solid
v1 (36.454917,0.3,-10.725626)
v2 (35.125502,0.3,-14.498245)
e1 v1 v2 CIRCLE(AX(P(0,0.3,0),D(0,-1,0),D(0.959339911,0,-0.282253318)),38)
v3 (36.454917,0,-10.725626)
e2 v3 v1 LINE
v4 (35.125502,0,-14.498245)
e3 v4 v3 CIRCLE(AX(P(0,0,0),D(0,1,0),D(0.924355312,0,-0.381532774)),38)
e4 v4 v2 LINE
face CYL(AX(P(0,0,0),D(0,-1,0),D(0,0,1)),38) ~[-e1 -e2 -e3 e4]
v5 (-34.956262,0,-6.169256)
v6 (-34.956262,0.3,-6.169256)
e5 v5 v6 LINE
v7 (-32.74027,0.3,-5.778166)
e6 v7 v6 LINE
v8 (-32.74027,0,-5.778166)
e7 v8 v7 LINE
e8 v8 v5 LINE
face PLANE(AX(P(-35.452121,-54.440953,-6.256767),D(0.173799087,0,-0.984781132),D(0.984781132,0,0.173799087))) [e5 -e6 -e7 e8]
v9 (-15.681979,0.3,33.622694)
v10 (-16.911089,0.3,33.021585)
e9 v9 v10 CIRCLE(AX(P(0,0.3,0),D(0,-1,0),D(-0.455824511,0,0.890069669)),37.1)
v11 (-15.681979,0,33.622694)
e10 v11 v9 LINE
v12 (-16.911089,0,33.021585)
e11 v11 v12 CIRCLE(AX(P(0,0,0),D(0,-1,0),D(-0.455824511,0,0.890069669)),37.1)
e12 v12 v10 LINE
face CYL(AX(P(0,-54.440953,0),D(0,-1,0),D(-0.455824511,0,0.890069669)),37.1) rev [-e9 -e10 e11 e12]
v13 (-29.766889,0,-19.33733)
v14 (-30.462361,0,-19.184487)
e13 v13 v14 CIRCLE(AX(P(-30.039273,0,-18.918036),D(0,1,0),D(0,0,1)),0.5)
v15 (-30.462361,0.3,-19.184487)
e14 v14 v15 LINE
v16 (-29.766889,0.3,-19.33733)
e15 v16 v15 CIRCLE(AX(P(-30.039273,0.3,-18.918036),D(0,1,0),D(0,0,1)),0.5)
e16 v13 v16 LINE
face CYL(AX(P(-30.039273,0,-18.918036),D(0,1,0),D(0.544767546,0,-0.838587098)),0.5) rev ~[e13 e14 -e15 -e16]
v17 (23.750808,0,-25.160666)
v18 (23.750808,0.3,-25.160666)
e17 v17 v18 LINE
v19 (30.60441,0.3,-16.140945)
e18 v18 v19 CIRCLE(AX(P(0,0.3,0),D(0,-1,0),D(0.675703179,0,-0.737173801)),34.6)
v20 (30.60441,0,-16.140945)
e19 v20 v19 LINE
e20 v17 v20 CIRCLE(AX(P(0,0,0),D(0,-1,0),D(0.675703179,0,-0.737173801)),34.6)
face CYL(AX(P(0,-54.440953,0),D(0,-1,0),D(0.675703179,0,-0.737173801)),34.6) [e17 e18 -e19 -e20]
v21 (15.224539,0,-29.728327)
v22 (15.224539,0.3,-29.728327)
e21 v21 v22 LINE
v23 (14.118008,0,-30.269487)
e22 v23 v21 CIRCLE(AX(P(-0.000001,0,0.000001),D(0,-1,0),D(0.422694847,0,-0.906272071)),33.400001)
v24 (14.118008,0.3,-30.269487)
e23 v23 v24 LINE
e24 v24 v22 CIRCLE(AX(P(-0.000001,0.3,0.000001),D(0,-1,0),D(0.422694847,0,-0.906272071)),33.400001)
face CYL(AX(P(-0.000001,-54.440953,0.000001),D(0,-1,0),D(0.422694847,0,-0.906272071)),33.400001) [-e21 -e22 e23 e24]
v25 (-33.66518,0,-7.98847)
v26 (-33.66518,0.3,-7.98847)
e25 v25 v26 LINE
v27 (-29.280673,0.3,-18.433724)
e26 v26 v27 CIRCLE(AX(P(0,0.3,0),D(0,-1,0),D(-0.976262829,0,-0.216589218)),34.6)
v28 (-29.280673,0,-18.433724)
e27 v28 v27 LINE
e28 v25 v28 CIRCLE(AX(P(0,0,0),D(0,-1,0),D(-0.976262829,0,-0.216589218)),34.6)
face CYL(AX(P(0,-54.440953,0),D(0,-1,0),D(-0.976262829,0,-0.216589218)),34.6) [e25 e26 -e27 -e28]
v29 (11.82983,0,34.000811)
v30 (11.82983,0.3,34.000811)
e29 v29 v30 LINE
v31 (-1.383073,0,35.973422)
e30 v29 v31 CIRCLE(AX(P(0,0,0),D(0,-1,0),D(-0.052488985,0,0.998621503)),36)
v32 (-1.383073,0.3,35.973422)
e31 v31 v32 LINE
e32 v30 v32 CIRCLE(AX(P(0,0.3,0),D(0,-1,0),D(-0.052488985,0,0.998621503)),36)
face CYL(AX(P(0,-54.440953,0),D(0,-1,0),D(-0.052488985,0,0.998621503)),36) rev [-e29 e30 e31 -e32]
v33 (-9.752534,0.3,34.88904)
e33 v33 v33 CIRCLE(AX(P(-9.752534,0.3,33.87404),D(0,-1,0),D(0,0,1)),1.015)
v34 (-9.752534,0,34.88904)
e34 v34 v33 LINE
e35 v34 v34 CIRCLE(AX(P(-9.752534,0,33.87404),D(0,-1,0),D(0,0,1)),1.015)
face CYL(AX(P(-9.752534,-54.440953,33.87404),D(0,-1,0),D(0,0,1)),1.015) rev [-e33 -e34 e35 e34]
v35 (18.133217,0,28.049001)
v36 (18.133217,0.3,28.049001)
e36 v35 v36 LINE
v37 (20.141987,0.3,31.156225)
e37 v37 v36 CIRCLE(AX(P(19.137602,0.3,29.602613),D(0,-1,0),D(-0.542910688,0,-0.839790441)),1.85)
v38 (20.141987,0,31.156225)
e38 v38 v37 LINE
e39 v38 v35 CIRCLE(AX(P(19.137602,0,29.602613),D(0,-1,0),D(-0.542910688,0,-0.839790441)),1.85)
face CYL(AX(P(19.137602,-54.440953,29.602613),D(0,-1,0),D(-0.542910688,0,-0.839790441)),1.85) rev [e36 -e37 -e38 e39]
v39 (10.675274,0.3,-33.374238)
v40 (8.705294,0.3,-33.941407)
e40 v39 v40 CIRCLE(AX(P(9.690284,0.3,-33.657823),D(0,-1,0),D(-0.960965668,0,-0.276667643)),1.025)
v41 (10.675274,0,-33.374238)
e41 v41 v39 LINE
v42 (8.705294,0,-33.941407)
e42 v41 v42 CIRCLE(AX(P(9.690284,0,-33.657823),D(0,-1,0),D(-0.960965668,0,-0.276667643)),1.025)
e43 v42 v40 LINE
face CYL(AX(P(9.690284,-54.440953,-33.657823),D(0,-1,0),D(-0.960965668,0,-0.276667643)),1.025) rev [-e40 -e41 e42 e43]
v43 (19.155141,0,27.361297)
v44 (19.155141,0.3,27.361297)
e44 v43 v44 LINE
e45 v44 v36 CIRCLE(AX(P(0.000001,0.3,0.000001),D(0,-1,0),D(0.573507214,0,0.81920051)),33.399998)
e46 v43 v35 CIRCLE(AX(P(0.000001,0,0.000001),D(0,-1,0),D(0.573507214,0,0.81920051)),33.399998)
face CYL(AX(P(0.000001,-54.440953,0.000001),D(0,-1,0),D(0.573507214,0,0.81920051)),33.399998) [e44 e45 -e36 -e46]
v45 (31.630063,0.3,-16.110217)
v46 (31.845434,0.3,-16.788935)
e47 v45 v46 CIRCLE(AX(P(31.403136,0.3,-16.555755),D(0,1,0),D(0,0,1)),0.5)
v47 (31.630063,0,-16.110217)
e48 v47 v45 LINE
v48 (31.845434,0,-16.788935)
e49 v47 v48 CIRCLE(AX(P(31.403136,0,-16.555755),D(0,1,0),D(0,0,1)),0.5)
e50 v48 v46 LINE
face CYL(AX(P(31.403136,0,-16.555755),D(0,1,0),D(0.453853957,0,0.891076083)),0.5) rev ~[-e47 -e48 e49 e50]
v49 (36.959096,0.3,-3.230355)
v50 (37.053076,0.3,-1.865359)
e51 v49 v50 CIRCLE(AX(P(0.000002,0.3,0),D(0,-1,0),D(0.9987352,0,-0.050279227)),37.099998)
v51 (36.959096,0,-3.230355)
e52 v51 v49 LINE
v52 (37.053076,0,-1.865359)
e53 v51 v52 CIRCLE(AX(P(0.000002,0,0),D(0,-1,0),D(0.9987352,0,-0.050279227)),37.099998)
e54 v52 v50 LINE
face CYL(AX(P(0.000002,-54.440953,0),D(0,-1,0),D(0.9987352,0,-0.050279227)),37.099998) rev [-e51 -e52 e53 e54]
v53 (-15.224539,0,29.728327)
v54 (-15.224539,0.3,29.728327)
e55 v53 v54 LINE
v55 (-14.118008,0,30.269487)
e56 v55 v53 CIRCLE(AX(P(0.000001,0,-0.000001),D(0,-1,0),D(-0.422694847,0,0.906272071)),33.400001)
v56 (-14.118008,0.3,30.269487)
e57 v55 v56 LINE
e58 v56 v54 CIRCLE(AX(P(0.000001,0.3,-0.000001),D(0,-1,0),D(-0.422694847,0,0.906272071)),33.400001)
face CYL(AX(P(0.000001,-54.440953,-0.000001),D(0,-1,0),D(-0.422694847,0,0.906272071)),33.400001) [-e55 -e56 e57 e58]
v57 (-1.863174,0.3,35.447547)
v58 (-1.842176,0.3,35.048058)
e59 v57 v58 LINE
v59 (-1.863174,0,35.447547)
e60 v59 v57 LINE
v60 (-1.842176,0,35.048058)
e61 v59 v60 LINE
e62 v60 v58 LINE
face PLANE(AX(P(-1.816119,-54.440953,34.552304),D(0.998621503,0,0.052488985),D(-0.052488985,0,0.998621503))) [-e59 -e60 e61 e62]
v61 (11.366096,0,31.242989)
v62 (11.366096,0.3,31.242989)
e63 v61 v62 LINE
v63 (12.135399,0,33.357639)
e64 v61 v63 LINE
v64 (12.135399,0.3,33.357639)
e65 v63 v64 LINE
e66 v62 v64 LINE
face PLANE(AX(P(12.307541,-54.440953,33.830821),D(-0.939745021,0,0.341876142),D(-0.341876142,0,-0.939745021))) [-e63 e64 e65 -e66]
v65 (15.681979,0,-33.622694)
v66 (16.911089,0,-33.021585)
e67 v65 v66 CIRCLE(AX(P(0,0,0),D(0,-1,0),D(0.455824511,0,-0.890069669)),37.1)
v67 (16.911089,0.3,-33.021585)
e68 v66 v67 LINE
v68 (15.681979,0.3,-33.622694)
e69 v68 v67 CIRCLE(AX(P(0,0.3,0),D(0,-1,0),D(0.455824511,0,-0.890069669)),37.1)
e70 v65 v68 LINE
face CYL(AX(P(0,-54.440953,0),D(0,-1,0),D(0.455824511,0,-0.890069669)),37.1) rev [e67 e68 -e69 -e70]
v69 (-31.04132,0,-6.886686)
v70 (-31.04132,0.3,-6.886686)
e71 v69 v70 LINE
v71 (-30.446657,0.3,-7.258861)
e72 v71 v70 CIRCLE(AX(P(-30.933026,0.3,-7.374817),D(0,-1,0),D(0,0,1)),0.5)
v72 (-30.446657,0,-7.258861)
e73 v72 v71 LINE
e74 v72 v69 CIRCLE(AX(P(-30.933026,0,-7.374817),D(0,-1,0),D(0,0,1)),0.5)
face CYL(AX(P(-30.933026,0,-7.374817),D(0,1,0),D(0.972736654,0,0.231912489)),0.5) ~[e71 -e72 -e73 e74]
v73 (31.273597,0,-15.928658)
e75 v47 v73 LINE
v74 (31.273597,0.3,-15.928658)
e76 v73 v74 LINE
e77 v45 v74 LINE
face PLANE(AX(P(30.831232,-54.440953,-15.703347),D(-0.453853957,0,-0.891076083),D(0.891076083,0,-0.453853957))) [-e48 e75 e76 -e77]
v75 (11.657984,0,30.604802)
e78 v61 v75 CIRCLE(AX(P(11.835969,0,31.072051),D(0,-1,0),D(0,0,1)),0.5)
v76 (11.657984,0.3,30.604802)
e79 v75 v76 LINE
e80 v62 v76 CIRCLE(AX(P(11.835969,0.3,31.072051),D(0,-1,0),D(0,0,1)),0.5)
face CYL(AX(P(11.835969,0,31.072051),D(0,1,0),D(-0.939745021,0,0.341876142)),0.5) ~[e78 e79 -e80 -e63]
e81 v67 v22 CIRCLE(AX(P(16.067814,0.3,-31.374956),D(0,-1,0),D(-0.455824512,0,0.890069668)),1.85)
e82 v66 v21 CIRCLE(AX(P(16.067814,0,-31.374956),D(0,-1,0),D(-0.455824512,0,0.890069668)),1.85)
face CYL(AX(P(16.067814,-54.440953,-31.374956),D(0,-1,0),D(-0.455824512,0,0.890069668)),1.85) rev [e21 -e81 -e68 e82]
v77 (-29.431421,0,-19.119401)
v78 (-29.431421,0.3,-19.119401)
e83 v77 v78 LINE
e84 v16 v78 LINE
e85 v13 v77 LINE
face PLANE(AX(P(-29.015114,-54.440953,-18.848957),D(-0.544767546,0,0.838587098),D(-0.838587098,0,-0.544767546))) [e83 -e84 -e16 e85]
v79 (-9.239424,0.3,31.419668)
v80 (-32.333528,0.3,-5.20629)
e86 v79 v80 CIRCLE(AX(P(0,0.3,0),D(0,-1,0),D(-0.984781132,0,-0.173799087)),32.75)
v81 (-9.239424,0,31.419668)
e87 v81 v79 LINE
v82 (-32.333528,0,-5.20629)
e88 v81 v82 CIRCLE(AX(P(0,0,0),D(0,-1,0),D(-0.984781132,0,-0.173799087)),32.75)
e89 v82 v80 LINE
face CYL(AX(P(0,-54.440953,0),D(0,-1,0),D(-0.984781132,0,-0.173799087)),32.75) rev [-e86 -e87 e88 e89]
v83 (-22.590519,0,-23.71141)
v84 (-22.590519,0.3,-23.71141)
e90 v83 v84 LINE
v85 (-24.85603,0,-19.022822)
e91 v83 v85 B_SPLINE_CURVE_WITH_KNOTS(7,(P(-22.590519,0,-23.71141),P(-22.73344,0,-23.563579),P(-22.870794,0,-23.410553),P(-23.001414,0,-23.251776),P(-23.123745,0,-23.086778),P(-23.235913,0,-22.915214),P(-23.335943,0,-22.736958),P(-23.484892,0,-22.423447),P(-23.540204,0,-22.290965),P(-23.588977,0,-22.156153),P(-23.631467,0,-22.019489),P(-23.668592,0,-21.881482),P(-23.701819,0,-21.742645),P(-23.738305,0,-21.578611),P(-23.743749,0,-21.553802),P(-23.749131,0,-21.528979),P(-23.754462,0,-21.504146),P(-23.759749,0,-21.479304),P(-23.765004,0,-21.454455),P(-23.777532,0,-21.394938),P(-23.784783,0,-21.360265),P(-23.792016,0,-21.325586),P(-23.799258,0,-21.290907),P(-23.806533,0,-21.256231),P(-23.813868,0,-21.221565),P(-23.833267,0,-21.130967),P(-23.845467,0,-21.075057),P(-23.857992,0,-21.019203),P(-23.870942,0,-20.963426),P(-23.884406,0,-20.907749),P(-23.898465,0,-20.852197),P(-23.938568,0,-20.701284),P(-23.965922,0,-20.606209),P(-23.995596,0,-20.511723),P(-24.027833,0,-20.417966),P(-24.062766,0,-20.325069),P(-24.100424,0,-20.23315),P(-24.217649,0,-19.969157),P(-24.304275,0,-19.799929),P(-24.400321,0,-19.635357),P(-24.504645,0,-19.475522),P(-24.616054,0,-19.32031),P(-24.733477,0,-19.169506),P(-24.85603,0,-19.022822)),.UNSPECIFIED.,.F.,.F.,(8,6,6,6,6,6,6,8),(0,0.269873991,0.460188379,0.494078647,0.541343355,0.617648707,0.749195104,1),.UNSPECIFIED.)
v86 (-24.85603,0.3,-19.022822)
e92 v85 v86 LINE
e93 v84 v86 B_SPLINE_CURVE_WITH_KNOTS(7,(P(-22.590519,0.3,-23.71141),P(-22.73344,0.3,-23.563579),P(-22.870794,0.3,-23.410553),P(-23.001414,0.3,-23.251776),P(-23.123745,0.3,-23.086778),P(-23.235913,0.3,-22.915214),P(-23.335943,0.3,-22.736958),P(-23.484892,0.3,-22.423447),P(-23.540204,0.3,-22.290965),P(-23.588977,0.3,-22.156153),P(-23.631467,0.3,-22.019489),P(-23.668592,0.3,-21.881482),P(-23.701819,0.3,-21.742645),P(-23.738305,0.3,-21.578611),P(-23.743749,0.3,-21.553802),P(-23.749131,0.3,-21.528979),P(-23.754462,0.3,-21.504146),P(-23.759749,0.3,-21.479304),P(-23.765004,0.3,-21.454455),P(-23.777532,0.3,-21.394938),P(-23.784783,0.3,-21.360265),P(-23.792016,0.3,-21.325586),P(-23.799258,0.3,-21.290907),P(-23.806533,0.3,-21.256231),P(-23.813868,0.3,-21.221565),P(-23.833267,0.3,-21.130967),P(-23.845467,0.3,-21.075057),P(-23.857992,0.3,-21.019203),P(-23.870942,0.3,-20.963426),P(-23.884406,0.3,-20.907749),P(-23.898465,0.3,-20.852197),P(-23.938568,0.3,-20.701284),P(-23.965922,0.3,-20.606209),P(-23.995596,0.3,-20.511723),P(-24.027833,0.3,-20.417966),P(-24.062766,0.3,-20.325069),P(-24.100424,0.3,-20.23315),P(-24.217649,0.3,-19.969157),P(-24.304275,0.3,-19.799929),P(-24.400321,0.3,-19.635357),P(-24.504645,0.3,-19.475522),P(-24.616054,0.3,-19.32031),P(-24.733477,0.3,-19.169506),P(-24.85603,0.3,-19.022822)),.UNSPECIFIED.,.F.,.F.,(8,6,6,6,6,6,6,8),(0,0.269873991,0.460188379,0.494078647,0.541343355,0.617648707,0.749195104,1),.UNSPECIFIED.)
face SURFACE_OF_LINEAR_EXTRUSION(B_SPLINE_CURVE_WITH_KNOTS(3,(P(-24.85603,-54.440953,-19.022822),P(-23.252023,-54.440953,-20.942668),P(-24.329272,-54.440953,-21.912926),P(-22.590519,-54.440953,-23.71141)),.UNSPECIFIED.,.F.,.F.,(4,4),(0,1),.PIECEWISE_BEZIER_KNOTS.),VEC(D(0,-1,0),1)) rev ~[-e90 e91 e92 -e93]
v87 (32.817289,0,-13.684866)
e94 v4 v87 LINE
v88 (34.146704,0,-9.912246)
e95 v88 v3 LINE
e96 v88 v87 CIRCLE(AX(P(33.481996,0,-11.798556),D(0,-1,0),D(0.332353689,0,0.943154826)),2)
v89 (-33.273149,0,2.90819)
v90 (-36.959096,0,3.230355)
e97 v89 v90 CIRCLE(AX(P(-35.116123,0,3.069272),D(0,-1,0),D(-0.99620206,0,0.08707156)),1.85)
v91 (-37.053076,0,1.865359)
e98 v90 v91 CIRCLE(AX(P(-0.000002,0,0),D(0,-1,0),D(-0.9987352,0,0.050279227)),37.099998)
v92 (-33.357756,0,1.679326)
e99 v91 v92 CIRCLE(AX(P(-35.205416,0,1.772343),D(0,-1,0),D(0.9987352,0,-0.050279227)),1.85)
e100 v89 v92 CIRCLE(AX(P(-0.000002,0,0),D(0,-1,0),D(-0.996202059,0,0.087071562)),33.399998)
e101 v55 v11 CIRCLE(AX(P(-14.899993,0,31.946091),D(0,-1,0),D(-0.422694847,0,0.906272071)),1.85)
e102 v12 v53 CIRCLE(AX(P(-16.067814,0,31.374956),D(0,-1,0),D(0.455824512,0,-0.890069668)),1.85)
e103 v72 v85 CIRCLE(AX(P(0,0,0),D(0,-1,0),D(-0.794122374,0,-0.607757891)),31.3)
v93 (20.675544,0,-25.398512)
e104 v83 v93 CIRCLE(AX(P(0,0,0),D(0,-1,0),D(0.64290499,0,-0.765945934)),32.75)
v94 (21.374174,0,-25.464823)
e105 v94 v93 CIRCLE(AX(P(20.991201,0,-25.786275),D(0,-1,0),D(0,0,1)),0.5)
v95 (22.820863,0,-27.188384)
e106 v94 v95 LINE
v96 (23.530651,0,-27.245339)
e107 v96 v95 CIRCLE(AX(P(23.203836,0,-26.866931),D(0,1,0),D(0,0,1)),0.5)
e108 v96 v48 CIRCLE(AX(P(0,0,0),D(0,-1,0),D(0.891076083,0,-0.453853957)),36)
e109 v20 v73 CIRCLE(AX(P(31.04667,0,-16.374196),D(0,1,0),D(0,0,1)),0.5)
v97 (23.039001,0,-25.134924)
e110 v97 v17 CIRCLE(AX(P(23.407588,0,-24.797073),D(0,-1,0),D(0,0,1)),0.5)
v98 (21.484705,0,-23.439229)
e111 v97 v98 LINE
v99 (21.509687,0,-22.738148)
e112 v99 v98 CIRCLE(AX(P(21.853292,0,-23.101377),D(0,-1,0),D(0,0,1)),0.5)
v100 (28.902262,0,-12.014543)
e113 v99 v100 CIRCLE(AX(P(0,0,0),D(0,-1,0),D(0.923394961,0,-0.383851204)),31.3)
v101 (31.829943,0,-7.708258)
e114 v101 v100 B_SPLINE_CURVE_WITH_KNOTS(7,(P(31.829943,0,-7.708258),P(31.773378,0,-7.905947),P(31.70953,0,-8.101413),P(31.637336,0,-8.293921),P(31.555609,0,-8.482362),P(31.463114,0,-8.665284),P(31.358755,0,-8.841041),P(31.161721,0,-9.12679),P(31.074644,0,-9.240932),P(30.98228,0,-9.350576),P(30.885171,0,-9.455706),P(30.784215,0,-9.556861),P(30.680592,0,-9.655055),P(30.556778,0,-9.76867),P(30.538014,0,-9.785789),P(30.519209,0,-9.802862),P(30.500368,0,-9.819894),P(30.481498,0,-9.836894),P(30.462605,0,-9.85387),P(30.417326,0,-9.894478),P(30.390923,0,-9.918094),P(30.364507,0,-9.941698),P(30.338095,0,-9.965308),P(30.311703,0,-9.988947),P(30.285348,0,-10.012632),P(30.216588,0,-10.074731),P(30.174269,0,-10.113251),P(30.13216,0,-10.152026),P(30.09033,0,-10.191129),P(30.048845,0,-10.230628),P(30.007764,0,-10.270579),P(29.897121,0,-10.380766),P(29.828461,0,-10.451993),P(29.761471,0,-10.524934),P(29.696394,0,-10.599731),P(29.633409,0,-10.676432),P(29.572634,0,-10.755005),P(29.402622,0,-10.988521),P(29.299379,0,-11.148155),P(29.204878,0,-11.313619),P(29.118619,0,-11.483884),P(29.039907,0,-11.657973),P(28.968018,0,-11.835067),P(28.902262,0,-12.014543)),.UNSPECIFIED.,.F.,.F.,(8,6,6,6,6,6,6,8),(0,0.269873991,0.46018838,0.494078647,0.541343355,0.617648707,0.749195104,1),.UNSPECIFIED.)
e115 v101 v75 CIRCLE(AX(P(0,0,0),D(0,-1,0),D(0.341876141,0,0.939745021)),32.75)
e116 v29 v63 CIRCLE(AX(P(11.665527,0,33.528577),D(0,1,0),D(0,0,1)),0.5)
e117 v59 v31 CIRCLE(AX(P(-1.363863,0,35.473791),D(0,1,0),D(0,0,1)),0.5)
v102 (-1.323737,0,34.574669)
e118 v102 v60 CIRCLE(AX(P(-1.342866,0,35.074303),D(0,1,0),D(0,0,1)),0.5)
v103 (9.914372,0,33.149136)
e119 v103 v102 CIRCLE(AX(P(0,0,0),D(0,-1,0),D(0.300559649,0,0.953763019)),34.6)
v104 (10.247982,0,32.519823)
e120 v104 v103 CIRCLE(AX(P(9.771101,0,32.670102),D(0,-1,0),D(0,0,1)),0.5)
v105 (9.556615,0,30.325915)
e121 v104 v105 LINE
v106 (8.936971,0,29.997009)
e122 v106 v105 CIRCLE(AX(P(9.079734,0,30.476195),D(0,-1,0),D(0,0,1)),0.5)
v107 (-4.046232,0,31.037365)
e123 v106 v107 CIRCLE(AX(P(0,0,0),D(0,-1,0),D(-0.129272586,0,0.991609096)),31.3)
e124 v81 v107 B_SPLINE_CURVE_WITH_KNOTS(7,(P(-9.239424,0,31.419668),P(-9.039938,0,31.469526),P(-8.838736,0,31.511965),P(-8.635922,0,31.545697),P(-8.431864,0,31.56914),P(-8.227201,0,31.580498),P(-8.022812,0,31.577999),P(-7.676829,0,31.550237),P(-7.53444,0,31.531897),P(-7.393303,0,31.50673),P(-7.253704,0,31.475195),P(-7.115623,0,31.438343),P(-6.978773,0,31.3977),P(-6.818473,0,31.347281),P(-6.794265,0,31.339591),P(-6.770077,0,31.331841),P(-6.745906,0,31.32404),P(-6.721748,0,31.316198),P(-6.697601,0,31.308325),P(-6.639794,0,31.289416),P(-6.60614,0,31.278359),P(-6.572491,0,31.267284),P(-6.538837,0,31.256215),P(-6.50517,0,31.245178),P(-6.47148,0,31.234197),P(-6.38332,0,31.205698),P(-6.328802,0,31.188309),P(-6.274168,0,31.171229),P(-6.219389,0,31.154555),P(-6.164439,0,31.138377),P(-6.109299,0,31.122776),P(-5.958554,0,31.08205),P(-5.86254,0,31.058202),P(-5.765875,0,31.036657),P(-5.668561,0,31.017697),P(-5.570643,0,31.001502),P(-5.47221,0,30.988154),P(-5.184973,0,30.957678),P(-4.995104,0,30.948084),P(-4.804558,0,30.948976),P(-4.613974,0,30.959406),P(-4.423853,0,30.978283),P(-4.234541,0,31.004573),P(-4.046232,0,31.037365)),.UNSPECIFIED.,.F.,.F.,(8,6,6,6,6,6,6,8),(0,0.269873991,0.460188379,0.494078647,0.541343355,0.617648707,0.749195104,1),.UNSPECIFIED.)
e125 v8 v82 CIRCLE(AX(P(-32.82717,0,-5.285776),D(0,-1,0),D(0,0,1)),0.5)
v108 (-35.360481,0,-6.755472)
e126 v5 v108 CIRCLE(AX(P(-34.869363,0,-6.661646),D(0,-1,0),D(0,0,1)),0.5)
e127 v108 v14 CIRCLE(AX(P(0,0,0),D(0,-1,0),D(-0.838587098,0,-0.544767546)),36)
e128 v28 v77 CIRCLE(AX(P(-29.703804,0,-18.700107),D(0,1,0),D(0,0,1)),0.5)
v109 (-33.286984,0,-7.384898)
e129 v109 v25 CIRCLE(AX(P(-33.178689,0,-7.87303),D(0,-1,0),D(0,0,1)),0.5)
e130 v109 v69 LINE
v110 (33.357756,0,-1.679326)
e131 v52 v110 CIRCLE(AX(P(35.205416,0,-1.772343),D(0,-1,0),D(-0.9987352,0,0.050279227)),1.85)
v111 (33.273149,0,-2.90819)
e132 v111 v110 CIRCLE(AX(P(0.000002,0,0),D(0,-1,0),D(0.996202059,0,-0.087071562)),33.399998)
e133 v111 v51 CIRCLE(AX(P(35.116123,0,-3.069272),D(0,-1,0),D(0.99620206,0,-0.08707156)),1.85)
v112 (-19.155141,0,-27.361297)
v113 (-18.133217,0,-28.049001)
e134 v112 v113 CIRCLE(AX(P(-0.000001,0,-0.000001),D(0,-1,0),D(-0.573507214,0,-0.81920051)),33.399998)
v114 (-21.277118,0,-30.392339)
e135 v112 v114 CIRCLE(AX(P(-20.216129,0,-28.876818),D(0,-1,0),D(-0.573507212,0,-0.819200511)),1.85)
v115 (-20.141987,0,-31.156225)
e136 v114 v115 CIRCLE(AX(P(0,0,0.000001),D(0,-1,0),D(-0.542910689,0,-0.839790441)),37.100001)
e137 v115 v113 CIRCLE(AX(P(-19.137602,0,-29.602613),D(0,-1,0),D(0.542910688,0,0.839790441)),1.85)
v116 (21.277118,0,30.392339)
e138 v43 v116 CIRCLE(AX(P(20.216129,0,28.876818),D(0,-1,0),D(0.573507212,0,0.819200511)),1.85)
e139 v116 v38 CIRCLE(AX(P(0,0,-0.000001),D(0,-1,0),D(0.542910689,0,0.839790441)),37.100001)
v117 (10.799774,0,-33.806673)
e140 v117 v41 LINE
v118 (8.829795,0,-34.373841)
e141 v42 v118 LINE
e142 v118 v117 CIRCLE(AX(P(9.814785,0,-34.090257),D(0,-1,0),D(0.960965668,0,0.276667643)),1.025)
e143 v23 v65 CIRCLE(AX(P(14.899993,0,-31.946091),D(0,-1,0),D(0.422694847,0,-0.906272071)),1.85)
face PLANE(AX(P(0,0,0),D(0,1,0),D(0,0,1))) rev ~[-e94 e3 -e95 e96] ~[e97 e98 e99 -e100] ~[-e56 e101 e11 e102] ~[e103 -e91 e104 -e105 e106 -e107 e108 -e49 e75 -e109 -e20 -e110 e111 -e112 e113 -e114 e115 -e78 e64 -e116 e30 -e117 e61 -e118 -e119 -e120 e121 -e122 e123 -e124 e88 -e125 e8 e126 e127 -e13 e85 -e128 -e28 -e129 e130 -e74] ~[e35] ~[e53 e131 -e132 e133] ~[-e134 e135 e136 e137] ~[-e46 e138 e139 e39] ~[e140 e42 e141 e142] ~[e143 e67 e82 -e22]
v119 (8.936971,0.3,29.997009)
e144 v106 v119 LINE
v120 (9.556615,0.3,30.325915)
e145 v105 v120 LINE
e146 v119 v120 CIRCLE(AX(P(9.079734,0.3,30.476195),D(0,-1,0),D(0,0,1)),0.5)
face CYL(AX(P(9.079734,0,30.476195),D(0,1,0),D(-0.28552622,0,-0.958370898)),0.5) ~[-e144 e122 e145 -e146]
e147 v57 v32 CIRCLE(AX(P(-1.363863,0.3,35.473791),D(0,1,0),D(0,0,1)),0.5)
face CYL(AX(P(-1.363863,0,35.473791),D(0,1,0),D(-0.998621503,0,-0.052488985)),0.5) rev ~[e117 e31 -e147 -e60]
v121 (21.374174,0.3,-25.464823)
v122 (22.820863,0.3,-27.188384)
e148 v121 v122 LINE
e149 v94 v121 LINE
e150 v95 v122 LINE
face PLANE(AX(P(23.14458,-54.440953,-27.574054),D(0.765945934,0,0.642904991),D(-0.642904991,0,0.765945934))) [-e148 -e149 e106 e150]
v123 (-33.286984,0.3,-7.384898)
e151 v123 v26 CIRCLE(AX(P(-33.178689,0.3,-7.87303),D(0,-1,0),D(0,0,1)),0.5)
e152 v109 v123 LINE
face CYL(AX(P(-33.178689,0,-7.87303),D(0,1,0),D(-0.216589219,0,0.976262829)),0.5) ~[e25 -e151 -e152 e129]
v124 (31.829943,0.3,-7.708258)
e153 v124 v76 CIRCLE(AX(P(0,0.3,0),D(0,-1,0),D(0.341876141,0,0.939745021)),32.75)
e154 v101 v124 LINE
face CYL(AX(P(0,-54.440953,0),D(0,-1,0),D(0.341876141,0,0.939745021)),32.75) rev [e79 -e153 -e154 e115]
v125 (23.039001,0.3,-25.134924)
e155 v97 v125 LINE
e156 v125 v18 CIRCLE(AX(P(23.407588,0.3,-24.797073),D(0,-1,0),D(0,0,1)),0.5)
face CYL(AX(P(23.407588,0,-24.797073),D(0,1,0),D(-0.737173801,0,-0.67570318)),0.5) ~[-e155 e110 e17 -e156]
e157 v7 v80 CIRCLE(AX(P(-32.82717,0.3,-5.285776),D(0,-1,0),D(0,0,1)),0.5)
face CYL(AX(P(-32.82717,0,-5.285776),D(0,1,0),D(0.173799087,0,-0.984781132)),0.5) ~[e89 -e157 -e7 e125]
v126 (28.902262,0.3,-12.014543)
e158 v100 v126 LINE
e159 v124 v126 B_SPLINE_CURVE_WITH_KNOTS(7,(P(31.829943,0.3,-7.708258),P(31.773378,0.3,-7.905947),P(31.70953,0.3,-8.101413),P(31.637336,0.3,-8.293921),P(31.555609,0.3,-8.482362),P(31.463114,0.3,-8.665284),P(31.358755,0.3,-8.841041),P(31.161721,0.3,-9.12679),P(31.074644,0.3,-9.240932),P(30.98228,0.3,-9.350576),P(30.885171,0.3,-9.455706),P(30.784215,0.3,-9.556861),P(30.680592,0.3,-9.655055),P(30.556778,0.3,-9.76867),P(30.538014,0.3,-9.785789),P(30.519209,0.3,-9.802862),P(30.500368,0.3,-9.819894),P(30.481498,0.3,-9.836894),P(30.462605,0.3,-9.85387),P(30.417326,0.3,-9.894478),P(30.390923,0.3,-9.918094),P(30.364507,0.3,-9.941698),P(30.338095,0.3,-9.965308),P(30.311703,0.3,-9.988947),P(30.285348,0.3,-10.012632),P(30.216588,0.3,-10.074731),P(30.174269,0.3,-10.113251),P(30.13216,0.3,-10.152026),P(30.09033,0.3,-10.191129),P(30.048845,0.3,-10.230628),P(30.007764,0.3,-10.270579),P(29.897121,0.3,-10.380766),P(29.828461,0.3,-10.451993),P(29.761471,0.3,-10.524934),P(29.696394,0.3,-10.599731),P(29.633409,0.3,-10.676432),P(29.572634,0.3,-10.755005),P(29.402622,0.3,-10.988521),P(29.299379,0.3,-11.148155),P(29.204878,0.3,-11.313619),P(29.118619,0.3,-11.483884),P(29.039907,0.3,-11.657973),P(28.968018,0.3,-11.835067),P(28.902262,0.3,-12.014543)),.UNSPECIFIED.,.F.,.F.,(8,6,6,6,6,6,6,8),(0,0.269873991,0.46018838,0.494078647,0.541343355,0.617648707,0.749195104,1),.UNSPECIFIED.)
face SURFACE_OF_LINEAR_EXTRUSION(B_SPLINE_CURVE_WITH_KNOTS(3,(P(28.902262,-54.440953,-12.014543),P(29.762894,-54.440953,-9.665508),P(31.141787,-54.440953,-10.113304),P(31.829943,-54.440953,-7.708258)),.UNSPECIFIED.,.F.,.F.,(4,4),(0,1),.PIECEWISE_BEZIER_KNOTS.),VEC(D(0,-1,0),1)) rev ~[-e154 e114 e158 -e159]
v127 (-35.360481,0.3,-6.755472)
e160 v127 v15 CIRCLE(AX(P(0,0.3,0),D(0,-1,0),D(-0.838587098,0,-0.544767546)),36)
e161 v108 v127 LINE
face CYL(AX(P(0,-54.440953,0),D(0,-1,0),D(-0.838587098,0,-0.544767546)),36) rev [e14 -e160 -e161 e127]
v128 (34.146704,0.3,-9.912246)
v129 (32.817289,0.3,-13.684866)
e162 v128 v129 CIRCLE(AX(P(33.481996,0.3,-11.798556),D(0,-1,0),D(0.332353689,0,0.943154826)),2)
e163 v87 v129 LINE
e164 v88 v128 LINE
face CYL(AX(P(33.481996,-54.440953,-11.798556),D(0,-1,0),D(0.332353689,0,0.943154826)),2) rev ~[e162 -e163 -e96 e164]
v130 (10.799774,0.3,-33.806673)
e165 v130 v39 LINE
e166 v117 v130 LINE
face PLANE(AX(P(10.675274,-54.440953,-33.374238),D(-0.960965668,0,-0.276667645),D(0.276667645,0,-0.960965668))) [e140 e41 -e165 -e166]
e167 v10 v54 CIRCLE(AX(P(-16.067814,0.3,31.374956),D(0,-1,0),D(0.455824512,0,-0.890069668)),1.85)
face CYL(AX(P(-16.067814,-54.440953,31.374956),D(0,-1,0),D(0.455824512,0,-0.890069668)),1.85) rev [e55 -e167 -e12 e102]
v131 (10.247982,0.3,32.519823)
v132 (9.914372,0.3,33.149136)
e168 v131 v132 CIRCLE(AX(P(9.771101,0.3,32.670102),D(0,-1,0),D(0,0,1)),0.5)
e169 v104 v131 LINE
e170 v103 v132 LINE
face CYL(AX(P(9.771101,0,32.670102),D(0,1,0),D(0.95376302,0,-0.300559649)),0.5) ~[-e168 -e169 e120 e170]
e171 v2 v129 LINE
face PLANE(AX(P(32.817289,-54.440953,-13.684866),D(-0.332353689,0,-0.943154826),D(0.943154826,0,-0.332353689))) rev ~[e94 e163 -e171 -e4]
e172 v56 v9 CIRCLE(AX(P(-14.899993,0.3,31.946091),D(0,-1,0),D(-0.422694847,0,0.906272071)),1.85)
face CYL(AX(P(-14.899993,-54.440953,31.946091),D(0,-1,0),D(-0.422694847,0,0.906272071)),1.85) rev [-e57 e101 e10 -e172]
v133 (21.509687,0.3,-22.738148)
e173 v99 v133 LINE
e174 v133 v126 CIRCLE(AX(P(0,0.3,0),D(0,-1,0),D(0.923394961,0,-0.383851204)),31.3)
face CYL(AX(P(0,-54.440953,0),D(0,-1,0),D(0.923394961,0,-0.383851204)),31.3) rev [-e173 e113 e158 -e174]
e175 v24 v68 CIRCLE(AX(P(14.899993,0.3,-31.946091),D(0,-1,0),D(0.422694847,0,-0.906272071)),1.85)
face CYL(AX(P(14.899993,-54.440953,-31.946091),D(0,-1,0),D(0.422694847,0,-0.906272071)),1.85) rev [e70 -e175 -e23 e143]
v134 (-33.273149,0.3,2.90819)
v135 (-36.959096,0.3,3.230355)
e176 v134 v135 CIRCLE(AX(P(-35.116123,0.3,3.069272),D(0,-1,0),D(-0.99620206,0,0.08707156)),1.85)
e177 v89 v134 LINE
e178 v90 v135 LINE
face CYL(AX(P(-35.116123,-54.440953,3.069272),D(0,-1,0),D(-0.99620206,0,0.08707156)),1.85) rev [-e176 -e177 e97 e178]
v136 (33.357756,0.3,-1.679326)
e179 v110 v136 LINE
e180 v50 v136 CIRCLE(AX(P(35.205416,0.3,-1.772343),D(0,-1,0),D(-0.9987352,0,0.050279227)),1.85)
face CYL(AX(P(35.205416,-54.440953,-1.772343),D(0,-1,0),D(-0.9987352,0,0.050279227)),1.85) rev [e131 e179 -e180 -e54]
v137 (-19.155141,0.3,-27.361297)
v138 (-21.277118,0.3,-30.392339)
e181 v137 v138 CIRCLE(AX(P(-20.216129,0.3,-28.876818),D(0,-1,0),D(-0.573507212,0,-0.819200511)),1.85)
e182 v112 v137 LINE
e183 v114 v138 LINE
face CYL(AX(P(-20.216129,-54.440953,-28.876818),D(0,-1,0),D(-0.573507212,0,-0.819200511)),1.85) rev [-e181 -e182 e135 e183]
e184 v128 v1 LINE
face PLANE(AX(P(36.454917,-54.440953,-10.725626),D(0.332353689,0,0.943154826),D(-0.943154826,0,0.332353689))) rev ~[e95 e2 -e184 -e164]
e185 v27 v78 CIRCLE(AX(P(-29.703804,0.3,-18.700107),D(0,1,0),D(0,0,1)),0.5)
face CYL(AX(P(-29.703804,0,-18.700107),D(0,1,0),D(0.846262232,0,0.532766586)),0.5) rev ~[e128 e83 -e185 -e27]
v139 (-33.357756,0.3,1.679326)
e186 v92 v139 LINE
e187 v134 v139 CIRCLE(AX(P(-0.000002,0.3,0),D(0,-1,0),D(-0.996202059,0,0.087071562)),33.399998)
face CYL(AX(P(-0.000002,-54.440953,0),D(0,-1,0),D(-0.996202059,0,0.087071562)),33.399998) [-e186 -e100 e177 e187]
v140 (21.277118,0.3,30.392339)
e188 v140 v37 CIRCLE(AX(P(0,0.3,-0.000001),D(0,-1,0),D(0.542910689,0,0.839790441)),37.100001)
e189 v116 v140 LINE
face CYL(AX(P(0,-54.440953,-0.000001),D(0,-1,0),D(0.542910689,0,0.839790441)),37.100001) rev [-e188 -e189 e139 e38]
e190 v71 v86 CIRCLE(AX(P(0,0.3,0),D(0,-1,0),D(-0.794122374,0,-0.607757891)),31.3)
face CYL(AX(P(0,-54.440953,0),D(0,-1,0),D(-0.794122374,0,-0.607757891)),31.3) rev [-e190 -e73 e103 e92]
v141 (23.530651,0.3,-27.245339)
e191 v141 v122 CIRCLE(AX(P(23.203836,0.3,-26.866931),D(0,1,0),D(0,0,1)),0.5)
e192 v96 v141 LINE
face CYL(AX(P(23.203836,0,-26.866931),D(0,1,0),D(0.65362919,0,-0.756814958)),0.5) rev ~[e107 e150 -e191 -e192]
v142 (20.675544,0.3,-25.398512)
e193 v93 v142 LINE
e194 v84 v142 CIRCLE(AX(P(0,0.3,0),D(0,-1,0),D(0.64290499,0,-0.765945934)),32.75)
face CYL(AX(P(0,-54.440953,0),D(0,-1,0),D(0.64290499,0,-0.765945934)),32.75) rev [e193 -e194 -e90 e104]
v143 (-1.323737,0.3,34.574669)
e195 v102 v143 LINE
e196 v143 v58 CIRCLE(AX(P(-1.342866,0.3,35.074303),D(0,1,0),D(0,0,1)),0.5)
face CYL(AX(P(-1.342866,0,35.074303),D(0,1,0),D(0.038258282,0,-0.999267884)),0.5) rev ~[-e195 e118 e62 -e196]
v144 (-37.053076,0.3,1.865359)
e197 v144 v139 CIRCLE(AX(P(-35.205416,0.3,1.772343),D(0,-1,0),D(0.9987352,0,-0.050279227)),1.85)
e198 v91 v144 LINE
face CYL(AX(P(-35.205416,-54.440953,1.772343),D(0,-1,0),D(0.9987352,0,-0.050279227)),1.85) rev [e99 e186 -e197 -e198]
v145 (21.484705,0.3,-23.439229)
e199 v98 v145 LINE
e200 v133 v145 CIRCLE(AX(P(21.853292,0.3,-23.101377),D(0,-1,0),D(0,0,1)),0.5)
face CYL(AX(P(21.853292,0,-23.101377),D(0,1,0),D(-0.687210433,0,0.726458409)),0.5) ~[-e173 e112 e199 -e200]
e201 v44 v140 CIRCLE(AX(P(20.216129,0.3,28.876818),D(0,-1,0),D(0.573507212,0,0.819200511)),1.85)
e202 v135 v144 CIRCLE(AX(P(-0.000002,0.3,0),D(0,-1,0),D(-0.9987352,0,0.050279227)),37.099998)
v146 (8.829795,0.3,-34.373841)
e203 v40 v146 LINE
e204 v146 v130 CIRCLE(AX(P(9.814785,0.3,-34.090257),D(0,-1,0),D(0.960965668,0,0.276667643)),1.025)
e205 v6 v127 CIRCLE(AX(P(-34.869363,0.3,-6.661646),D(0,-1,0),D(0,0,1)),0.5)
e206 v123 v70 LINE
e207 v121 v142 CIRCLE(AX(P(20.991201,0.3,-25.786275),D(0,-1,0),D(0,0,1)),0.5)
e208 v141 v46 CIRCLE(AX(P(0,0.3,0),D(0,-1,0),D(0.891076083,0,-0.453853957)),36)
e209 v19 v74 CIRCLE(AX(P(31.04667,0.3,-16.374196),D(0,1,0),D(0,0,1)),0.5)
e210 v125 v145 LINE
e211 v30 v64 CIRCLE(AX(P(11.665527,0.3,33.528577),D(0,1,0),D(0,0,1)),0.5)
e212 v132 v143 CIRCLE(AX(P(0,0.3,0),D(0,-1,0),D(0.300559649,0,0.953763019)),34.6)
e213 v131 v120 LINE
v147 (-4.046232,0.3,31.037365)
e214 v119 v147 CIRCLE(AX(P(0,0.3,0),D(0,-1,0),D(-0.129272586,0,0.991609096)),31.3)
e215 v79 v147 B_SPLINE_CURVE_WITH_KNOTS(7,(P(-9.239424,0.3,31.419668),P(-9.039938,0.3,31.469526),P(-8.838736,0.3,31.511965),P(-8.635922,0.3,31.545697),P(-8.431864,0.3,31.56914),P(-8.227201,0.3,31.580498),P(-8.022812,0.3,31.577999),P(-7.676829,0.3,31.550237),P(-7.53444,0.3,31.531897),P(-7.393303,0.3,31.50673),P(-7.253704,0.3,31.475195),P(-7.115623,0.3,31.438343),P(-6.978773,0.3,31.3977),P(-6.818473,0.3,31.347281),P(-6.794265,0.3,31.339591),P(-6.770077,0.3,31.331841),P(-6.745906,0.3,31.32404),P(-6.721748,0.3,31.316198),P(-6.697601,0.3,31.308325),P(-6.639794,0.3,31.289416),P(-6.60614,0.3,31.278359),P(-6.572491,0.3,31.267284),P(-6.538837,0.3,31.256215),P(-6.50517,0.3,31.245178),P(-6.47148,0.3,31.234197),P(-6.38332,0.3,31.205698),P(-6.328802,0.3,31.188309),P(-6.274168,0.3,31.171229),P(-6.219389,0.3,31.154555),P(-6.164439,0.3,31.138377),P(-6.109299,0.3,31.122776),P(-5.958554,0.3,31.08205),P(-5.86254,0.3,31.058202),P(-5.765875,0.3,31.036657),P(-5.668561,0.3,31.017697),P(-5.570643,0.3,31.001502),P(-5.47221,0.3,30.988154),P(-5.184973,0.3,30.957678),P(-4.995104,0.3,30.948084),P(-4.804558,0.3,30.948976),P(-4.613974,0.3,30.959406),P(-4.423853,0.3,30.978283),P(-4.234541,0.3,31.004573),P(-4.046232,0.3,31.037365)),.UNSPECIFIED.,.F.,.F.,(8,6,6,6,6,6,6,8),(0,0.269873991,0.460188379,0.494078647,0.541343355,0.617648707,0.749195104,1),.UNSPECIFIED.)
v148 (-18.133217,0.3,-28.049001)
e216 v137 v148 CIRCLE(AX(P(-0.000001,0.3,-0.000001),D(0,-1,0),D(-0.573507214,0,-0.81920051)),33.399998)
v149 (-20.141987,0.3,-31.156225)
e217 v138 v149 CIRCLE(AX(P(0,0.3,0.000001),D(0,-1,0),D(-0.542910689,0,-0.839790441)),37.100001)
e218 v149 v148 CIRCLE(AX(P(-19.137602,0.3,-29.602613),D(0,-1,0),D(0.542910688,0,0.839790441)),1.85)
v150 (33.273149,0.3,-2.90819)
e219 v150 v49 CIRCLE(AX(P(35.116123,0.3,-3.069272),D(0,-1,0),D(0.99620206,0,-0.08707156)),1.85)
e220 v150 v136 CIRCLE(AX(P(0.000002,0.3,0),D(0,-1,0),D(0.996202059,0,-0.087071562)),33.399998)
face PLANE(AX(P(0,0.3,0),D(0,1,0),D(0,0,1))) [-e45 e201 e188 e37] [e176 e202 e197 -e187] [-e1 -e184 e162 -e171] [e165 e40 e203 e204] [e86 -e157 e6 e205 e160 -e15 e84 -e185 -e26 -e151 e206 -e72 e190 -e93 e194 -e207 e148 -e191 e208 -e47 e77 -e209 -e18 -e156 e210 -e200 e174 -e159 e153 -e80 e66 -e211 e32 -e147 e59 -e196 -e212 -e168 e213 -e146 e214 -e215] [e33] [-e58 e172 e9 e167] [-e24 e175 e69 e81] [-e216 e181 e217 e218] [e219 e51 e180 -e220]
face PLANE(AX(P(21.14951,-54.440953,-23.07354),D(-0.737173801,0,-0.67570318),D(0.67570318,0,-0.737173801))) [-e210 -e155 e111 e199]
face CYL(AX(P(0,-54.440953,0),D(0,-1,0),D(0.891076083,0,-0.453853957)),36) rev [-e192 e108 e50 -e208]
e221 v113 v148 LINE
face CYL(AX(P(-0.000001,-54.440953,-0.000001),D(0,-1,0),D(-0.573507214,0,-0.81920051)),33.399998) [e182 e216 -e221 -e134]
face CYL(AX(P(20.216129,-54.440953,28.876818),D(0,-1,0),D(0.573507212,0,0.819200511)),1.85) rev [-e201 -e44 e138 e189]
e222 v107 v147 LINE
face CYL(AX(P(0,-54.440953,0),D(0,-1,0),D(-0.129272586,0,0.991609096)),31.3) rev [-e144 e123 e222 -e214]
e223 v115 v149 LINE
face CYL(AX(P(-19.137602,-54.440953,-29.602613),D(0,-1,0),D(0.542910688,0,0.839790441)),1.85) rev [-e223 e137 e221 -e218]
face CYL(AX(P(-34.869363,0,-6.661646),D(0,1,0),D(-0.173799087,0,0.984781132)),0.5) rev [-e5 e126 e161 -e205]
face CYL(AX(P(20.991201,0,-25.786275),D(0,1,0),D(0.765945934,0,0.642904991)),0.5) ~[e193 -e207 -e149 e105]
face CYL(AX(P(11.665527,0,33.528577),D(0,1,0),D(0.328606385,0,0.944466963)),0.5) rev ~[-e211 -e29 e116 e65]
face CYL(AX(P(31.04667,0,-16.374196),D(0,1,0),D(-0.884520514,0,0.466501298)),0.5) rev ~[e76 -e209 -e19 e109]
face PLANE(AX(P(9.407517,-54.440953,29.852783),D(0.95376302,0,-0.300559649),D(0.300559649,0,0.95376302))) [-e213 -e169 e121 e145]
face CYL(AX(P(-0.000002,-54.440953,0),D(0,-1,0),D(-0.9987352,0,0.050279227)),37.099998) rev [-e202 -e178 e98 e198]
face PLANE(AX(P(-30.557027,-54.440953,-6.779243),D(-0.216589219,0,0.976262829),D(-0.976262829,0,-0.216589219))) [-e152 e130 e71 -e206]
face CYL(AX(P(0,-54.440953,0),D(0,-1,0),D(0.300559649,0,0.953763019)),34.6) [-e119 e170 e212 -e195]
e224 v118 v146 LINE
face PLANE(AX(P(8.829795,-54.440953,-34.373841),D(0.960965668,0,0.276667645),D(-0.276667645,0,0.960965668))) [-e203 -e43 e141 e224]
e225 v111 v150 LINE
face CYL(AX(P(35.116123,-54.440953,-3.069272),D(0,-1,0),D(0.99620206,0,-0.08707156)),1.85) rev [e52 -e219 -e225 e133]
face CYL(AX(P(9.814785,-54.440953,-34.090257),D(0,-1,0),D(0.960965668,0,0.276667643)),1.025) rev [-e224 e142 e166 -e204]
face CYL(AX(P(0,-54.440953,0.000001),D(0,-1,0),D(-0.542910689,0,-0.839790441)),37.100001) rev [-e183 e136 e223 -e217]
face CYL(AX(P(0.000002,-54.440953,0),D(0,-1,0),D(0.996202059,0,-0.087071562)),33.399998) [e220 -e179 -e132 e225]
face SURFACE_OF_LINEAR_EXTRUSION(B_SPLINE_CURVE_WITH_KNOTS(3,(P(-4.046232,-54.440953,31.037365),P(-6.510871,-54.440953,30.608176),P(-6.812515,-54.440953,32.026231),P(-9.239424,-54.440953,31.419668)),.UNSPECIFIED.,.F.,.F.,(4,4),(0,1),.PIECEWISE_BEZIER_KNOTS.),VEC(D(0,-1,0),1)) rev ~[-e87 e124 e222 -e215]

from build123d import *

# Parameters (mm, degrees)
SKETCH1_R               = 38
BOSS_EXTRUDE1_DEPTH     = 0.3
CUT_EXTRUDE1_DEPTH      = 54.740952727
CUT_EXTRUDE1_DEPTH_BACK = 54.740952727
SKETCH2_R               = 1.015
FILLET2_R               = 0.5


with BuildPart() as part:
    # Sketch1 → Boss-Extrude1 (new body)
    with BuildSketch(Plane(origin=(0, 0, 0), x_dir=(1, 0, 0), z_dir=(0, 1, 0))):
        with Locations(Location((0, 0, 0), (0, 0, 270))):
            Circle(SKETCH1_R)
    extrude(amount=BOSS_EXTRUDE1_DEPTH)

    # Sketch2 → Cut-Extrude1 (cut, two sides: drawn at the far end of the back side and taken through both)
    with BuildSketch(Plane(origin=(0, 0.3, 0), x_dir=(1, 0, 0), z_dir=(0, 1, 0)).offset(-CUT_EXTRUDE1_DEPTH_BACK)):
        with BuildLine():
            ThreePointArc((-37.053075912, -1.865359337), (-37.012379228, -2.548290386), (-36.959096408, -3.230354883))
            ThreePointArc((-36.959096408, -3.230354883), (-34.955040212, -4.912246307), (-33.273148788, -2.908190111))
            ThreePointArc((-33.273148788, -2.908190111), (-33.321117688, -2.294148218), (-33.357755673, -1.679326196))
            ThreePointArc((-33.357755673, -1.679326196), (-35.298432363, 0.075317353), (-37.053075912, -1.865359337))
        make_face()
        with BuildLine():
            ThreePointArc((-16.911089383, -33.021584697), (-16.299305403, -33.327805859), (-15.681978812, -33.622693832))
            ThreePointArc((-15.681978812, -33.622693832), (-13.223390014, -32.728075967), (-14.118007879, -30.26948717))
            ThreePointArc((-14.118007879, -30.26948717), (-14.673768207, -30.004008509), (-15.22453869, -29.728326924))
            ThreePointArc((-15.22453869, -29.728326924), (-17.714442923, -30.531680464), (-16.911089383, -33.021584697))
        make_face()
        with Locations(Location((-9.752534436, -33.874039795, 0), (0, 0, 270))):
            Circle(SKETCH2_R)
        with BuildLine():
            ThreePointArc((20.141986529, -31.15622536), (20.713073824, -30.779515473), (21.277117596, -30.392338949))
            ThreePointArc((21.277117596, -30.392338949), (21.731650198, -27.81582966), (19.155140909, -27.361297059))
            ThreePointArc((19.155140909, -27.361297059), (18.647349481, -27.709860291), (18.133216983, -28.049000728))
            ThreePointArc((18.133216983, -28.049000728), (17.58398944, -30.606997817), (20.141986529, -31.15622536))
        make_face()
        with BuildLine():
            ThreePointArc((37.053075912, 1.865359337), (37.012379228, 2.548290386), (36.959096408, 3.230354883))
            ThreePointArc((36.959096408, 3.230354883), (34.955040212, 4.912246307), (33.273148788, 2.908190111))
            ThreePointArc((33.273148788, 2.908190111), (33.321117688, 2.294148218), (33.357755673, 1.679326196))
            ThreePointArc((33.357755673, 1.679326196), (35.298432363, -0.075317353), (37.053075912, 1.865359337))
        make_face()
        with BuildLine():
            ThreePointArc((16.911089383, 33.021584697), (16.299305403, 33.327805859), (15.681978812, 33.622693832))
            ThreePointArc((15.681978812, 33.622693832), (13.223390014, 32.728075967), (14.118007879, 30.26948717))
            ThreePointArc((14.118007879, 30.26948717), (14.673768207, 30.004008509), (15.22453869, 29.728326924))
            ThreePointArc((15.22453869, 29.728326924), (17.714442923, 30.531680464), (16.911089383, 33.021584697))
        make_face()
        with BuildLine():
            ThreePointArc((-20.141986529, 31.15622536), (-20.713073824, 30.779515473), (-21.277117596, 30.392338949))
            ThreePointArc((-21.277117596, 30.392338949), (-21.731650198, 27.81582966), (-19.155140909, 27.361297059))
            ThreePointArc((-19.155140909, 27.361297059), (-18.647349481, 27.709860291), (-18.133216983, 28.049000728))
            ThreePointArc((-18.133216983, 28.049000728), (-17.58398944, 30.606997817), (-20.141986529, 31.15622536))
        make_face()
        with BuildLine():
            Line((-29.015113588, 18.848957093), (-30.189135525, 19.611631658))
            ThreePointArc((-30.189135525, 19.611631658), (-33.493010206, 13.199176768), (-35.452120741, 6.256767133))
            Line((-35.452120741, 6.256767133), (-32.251582063, 5.6919201))
            ThreePointArc((-32.251582063, 5.6919201), (-27.833314361, -17.258885007), (-9.23942383, -31.41966816))
            add(Edge.make_bspline(
                [(-4.046231948, -31.037364692), (-6.510871152, -30.608176232), (-6.812515045, -32.026230627), (-9.23942383, -31.41966816)],
                knots=[0, 0, 0, 0, 1, 1, 1, 1], degree=3))
            ThreePointArc((-4.046231948, -31.037364692), (2.745296544, -31.179373741), (9.407517011, -29.852782512))
            Line((9.407517011, -29.852782512), (10.399363852, -33.000200476))
            ThreePointArc((10.399363852, -33.000200476), (4.361224586, -34.324039974), (-1.816118884, -34.552304007))
            Line((-1.816118884, -34.552304007), (-1.889603463, -35.950374111))
            ThreePointArc((-1.889603463, -35.950374111), (5.315682713, -35.605386071), (12.307541088, -33.830820746))
            Line((12.307541088, -33.830820746), (11.196443628, -30.776649429))
            ThreePointArc((11.196443628, -30.776649429), (28.863290038, -15.474914804), (31.82994272, 7.708258327))
            add(Edge.make_bspline(
                [(28.902262264, 12.014542689), (29.762893756, 9.665508298), (31.141786833, 10.113304221), (31.82994272, 7.708258327)],
                knots=[0, 0, 0, 0, 1, 1, 1, 1], degree=3))
            ThreePointArc((28.902262264, 12.014542689), (25.629481462, 17.967183419), (21.149509523, 23.073539974))
            Line((21.149509523, 23.073539974), (23.379330016, 25.506213517))
            ThreePointArc((23.379330016, 25.506213517), (27.544878285, 20.93895127), (30.831232471, 15.703346914))
            Line((30.831232471, 15.703346914), (32.078738987, 16.338742454))
            ThreePointArc((32.078738987, 16.338742454), (28.177327493, 22.406209304), (23.144579654, 27.574053613))
            Line((23.144579654, 27.574053613), (21.055138435, 25.084729329))
            ThreePointArc((21.055138435, 25.084729329), (-1.029975677, 32.733799812), (-22.59051889, 23.711409833))
            add(Edge.make_bspline(
                [(-24.856030316, 19.022822003), (-23.252022604, 20.942667934), (-24.329271788, 21.912926407), (-22.59051889, 23.711409833)],
                knots=[0, 0, 0, 0, 1, 1, 1, 1], degree=3))
            ThreePointArc((-24.856030316, 19.022822003), (-28.374778006, 13.212190322), (-30.557026534, 6.779242538))
            Line((-30.557026534, 6.779242538), (-33.778693868, 7.493986959))
            ThreePointArc((-33.778693868, 7.493986959), (-31.906102871, 13.385088704), (-29.015113588, 18.848957093))
        make_face()
        with BuildLine():
            Line((36.454916606, 10.725626099), (34.146703694, 9.912246307))
            ThreePointArc((34.146703694, 9.912246307), (31.595686664, 11.133848581), (32.817288938, 13.68486561))
            Line((32.817288938, 13.68486561), (35.12550185, 14.498245403))
            ThreePointArc((35.12550185, 14.498245403), (35.83988338, 12.629440181), (36.454916606, 10.725626099))
        make_face()
        with BuildLine():
            ThreePointArc((10.799774466, 33.806672736), (10.098368991, 35.07524688), (8.829794847, 34.373841405))
            Line((8.829794847, 34.373841405), (8.705294407, 33.941406855))
            ThreePointArc((8.705294407, 33.941406855), (9.406699882, 32.672832711), (10.675274026, 33.374238186))
            Line((10.675274026, 33.374238186), (10.799774466, 33.806672736))
        make_face()
    extrude(amount=CUT_EXTRUDE1_DEPTH + CUT_EXTRUDE1_DEPTH_BACK, mode=Mode.SUBTRACT)

    # Fillet2
    fillet2_edges = [part.edges().sort_by_distance(p)[0] for p in [
        (-9.23942383, 0.15, 31.41966816),
        (-35.452120741, 0.15, -6.256767133),
        (-30.189135525, 0.15, -19.611631658),
        (-29.015113588, 0.15, -18.848957093),
        (-33.778693868, 0.15, -7.493986959),
        (-30.557026534, 0.15, -6.779242538),
        (-24.856030316, 0.15, -19.022822003),
        (-22.59051889, 0.15, -23.711409833),
        (21.055138435, 0.15, -25.084729329),
        (23.144579654, 0.15, -27.574053613),
        (32.078738987, 0.15, -16.338742454),
        (30.831232471, 0.15, -15.703346914),
        (23.379330016, 0.15, -25.506213517),
        (21.149509523, 0.15, -23.073539974),
        (28.902262264, 0.15, -12.014542689),
        (31.82994272, 0.15, -7.708258327),
        (11.196443628, 0.15, 30.776649429),
        (12.307541088, 0.15, 33.830820746),
        (-1.889603463, 0.15, 35.950374111),
        (-1.816118884, 0.15, 34.552304007),
        (10.399363852, 0.15, 33.000200476),
        (9.407517011, 0.15, 29.852782512),
        (-4.046231948, 0.15, 31.037364692),
        (-32.251582063, 0.15, -5.6919201),
    ]]
    fillet(fillet2_edges, radius=FILLET2_R)


solid = part.part
